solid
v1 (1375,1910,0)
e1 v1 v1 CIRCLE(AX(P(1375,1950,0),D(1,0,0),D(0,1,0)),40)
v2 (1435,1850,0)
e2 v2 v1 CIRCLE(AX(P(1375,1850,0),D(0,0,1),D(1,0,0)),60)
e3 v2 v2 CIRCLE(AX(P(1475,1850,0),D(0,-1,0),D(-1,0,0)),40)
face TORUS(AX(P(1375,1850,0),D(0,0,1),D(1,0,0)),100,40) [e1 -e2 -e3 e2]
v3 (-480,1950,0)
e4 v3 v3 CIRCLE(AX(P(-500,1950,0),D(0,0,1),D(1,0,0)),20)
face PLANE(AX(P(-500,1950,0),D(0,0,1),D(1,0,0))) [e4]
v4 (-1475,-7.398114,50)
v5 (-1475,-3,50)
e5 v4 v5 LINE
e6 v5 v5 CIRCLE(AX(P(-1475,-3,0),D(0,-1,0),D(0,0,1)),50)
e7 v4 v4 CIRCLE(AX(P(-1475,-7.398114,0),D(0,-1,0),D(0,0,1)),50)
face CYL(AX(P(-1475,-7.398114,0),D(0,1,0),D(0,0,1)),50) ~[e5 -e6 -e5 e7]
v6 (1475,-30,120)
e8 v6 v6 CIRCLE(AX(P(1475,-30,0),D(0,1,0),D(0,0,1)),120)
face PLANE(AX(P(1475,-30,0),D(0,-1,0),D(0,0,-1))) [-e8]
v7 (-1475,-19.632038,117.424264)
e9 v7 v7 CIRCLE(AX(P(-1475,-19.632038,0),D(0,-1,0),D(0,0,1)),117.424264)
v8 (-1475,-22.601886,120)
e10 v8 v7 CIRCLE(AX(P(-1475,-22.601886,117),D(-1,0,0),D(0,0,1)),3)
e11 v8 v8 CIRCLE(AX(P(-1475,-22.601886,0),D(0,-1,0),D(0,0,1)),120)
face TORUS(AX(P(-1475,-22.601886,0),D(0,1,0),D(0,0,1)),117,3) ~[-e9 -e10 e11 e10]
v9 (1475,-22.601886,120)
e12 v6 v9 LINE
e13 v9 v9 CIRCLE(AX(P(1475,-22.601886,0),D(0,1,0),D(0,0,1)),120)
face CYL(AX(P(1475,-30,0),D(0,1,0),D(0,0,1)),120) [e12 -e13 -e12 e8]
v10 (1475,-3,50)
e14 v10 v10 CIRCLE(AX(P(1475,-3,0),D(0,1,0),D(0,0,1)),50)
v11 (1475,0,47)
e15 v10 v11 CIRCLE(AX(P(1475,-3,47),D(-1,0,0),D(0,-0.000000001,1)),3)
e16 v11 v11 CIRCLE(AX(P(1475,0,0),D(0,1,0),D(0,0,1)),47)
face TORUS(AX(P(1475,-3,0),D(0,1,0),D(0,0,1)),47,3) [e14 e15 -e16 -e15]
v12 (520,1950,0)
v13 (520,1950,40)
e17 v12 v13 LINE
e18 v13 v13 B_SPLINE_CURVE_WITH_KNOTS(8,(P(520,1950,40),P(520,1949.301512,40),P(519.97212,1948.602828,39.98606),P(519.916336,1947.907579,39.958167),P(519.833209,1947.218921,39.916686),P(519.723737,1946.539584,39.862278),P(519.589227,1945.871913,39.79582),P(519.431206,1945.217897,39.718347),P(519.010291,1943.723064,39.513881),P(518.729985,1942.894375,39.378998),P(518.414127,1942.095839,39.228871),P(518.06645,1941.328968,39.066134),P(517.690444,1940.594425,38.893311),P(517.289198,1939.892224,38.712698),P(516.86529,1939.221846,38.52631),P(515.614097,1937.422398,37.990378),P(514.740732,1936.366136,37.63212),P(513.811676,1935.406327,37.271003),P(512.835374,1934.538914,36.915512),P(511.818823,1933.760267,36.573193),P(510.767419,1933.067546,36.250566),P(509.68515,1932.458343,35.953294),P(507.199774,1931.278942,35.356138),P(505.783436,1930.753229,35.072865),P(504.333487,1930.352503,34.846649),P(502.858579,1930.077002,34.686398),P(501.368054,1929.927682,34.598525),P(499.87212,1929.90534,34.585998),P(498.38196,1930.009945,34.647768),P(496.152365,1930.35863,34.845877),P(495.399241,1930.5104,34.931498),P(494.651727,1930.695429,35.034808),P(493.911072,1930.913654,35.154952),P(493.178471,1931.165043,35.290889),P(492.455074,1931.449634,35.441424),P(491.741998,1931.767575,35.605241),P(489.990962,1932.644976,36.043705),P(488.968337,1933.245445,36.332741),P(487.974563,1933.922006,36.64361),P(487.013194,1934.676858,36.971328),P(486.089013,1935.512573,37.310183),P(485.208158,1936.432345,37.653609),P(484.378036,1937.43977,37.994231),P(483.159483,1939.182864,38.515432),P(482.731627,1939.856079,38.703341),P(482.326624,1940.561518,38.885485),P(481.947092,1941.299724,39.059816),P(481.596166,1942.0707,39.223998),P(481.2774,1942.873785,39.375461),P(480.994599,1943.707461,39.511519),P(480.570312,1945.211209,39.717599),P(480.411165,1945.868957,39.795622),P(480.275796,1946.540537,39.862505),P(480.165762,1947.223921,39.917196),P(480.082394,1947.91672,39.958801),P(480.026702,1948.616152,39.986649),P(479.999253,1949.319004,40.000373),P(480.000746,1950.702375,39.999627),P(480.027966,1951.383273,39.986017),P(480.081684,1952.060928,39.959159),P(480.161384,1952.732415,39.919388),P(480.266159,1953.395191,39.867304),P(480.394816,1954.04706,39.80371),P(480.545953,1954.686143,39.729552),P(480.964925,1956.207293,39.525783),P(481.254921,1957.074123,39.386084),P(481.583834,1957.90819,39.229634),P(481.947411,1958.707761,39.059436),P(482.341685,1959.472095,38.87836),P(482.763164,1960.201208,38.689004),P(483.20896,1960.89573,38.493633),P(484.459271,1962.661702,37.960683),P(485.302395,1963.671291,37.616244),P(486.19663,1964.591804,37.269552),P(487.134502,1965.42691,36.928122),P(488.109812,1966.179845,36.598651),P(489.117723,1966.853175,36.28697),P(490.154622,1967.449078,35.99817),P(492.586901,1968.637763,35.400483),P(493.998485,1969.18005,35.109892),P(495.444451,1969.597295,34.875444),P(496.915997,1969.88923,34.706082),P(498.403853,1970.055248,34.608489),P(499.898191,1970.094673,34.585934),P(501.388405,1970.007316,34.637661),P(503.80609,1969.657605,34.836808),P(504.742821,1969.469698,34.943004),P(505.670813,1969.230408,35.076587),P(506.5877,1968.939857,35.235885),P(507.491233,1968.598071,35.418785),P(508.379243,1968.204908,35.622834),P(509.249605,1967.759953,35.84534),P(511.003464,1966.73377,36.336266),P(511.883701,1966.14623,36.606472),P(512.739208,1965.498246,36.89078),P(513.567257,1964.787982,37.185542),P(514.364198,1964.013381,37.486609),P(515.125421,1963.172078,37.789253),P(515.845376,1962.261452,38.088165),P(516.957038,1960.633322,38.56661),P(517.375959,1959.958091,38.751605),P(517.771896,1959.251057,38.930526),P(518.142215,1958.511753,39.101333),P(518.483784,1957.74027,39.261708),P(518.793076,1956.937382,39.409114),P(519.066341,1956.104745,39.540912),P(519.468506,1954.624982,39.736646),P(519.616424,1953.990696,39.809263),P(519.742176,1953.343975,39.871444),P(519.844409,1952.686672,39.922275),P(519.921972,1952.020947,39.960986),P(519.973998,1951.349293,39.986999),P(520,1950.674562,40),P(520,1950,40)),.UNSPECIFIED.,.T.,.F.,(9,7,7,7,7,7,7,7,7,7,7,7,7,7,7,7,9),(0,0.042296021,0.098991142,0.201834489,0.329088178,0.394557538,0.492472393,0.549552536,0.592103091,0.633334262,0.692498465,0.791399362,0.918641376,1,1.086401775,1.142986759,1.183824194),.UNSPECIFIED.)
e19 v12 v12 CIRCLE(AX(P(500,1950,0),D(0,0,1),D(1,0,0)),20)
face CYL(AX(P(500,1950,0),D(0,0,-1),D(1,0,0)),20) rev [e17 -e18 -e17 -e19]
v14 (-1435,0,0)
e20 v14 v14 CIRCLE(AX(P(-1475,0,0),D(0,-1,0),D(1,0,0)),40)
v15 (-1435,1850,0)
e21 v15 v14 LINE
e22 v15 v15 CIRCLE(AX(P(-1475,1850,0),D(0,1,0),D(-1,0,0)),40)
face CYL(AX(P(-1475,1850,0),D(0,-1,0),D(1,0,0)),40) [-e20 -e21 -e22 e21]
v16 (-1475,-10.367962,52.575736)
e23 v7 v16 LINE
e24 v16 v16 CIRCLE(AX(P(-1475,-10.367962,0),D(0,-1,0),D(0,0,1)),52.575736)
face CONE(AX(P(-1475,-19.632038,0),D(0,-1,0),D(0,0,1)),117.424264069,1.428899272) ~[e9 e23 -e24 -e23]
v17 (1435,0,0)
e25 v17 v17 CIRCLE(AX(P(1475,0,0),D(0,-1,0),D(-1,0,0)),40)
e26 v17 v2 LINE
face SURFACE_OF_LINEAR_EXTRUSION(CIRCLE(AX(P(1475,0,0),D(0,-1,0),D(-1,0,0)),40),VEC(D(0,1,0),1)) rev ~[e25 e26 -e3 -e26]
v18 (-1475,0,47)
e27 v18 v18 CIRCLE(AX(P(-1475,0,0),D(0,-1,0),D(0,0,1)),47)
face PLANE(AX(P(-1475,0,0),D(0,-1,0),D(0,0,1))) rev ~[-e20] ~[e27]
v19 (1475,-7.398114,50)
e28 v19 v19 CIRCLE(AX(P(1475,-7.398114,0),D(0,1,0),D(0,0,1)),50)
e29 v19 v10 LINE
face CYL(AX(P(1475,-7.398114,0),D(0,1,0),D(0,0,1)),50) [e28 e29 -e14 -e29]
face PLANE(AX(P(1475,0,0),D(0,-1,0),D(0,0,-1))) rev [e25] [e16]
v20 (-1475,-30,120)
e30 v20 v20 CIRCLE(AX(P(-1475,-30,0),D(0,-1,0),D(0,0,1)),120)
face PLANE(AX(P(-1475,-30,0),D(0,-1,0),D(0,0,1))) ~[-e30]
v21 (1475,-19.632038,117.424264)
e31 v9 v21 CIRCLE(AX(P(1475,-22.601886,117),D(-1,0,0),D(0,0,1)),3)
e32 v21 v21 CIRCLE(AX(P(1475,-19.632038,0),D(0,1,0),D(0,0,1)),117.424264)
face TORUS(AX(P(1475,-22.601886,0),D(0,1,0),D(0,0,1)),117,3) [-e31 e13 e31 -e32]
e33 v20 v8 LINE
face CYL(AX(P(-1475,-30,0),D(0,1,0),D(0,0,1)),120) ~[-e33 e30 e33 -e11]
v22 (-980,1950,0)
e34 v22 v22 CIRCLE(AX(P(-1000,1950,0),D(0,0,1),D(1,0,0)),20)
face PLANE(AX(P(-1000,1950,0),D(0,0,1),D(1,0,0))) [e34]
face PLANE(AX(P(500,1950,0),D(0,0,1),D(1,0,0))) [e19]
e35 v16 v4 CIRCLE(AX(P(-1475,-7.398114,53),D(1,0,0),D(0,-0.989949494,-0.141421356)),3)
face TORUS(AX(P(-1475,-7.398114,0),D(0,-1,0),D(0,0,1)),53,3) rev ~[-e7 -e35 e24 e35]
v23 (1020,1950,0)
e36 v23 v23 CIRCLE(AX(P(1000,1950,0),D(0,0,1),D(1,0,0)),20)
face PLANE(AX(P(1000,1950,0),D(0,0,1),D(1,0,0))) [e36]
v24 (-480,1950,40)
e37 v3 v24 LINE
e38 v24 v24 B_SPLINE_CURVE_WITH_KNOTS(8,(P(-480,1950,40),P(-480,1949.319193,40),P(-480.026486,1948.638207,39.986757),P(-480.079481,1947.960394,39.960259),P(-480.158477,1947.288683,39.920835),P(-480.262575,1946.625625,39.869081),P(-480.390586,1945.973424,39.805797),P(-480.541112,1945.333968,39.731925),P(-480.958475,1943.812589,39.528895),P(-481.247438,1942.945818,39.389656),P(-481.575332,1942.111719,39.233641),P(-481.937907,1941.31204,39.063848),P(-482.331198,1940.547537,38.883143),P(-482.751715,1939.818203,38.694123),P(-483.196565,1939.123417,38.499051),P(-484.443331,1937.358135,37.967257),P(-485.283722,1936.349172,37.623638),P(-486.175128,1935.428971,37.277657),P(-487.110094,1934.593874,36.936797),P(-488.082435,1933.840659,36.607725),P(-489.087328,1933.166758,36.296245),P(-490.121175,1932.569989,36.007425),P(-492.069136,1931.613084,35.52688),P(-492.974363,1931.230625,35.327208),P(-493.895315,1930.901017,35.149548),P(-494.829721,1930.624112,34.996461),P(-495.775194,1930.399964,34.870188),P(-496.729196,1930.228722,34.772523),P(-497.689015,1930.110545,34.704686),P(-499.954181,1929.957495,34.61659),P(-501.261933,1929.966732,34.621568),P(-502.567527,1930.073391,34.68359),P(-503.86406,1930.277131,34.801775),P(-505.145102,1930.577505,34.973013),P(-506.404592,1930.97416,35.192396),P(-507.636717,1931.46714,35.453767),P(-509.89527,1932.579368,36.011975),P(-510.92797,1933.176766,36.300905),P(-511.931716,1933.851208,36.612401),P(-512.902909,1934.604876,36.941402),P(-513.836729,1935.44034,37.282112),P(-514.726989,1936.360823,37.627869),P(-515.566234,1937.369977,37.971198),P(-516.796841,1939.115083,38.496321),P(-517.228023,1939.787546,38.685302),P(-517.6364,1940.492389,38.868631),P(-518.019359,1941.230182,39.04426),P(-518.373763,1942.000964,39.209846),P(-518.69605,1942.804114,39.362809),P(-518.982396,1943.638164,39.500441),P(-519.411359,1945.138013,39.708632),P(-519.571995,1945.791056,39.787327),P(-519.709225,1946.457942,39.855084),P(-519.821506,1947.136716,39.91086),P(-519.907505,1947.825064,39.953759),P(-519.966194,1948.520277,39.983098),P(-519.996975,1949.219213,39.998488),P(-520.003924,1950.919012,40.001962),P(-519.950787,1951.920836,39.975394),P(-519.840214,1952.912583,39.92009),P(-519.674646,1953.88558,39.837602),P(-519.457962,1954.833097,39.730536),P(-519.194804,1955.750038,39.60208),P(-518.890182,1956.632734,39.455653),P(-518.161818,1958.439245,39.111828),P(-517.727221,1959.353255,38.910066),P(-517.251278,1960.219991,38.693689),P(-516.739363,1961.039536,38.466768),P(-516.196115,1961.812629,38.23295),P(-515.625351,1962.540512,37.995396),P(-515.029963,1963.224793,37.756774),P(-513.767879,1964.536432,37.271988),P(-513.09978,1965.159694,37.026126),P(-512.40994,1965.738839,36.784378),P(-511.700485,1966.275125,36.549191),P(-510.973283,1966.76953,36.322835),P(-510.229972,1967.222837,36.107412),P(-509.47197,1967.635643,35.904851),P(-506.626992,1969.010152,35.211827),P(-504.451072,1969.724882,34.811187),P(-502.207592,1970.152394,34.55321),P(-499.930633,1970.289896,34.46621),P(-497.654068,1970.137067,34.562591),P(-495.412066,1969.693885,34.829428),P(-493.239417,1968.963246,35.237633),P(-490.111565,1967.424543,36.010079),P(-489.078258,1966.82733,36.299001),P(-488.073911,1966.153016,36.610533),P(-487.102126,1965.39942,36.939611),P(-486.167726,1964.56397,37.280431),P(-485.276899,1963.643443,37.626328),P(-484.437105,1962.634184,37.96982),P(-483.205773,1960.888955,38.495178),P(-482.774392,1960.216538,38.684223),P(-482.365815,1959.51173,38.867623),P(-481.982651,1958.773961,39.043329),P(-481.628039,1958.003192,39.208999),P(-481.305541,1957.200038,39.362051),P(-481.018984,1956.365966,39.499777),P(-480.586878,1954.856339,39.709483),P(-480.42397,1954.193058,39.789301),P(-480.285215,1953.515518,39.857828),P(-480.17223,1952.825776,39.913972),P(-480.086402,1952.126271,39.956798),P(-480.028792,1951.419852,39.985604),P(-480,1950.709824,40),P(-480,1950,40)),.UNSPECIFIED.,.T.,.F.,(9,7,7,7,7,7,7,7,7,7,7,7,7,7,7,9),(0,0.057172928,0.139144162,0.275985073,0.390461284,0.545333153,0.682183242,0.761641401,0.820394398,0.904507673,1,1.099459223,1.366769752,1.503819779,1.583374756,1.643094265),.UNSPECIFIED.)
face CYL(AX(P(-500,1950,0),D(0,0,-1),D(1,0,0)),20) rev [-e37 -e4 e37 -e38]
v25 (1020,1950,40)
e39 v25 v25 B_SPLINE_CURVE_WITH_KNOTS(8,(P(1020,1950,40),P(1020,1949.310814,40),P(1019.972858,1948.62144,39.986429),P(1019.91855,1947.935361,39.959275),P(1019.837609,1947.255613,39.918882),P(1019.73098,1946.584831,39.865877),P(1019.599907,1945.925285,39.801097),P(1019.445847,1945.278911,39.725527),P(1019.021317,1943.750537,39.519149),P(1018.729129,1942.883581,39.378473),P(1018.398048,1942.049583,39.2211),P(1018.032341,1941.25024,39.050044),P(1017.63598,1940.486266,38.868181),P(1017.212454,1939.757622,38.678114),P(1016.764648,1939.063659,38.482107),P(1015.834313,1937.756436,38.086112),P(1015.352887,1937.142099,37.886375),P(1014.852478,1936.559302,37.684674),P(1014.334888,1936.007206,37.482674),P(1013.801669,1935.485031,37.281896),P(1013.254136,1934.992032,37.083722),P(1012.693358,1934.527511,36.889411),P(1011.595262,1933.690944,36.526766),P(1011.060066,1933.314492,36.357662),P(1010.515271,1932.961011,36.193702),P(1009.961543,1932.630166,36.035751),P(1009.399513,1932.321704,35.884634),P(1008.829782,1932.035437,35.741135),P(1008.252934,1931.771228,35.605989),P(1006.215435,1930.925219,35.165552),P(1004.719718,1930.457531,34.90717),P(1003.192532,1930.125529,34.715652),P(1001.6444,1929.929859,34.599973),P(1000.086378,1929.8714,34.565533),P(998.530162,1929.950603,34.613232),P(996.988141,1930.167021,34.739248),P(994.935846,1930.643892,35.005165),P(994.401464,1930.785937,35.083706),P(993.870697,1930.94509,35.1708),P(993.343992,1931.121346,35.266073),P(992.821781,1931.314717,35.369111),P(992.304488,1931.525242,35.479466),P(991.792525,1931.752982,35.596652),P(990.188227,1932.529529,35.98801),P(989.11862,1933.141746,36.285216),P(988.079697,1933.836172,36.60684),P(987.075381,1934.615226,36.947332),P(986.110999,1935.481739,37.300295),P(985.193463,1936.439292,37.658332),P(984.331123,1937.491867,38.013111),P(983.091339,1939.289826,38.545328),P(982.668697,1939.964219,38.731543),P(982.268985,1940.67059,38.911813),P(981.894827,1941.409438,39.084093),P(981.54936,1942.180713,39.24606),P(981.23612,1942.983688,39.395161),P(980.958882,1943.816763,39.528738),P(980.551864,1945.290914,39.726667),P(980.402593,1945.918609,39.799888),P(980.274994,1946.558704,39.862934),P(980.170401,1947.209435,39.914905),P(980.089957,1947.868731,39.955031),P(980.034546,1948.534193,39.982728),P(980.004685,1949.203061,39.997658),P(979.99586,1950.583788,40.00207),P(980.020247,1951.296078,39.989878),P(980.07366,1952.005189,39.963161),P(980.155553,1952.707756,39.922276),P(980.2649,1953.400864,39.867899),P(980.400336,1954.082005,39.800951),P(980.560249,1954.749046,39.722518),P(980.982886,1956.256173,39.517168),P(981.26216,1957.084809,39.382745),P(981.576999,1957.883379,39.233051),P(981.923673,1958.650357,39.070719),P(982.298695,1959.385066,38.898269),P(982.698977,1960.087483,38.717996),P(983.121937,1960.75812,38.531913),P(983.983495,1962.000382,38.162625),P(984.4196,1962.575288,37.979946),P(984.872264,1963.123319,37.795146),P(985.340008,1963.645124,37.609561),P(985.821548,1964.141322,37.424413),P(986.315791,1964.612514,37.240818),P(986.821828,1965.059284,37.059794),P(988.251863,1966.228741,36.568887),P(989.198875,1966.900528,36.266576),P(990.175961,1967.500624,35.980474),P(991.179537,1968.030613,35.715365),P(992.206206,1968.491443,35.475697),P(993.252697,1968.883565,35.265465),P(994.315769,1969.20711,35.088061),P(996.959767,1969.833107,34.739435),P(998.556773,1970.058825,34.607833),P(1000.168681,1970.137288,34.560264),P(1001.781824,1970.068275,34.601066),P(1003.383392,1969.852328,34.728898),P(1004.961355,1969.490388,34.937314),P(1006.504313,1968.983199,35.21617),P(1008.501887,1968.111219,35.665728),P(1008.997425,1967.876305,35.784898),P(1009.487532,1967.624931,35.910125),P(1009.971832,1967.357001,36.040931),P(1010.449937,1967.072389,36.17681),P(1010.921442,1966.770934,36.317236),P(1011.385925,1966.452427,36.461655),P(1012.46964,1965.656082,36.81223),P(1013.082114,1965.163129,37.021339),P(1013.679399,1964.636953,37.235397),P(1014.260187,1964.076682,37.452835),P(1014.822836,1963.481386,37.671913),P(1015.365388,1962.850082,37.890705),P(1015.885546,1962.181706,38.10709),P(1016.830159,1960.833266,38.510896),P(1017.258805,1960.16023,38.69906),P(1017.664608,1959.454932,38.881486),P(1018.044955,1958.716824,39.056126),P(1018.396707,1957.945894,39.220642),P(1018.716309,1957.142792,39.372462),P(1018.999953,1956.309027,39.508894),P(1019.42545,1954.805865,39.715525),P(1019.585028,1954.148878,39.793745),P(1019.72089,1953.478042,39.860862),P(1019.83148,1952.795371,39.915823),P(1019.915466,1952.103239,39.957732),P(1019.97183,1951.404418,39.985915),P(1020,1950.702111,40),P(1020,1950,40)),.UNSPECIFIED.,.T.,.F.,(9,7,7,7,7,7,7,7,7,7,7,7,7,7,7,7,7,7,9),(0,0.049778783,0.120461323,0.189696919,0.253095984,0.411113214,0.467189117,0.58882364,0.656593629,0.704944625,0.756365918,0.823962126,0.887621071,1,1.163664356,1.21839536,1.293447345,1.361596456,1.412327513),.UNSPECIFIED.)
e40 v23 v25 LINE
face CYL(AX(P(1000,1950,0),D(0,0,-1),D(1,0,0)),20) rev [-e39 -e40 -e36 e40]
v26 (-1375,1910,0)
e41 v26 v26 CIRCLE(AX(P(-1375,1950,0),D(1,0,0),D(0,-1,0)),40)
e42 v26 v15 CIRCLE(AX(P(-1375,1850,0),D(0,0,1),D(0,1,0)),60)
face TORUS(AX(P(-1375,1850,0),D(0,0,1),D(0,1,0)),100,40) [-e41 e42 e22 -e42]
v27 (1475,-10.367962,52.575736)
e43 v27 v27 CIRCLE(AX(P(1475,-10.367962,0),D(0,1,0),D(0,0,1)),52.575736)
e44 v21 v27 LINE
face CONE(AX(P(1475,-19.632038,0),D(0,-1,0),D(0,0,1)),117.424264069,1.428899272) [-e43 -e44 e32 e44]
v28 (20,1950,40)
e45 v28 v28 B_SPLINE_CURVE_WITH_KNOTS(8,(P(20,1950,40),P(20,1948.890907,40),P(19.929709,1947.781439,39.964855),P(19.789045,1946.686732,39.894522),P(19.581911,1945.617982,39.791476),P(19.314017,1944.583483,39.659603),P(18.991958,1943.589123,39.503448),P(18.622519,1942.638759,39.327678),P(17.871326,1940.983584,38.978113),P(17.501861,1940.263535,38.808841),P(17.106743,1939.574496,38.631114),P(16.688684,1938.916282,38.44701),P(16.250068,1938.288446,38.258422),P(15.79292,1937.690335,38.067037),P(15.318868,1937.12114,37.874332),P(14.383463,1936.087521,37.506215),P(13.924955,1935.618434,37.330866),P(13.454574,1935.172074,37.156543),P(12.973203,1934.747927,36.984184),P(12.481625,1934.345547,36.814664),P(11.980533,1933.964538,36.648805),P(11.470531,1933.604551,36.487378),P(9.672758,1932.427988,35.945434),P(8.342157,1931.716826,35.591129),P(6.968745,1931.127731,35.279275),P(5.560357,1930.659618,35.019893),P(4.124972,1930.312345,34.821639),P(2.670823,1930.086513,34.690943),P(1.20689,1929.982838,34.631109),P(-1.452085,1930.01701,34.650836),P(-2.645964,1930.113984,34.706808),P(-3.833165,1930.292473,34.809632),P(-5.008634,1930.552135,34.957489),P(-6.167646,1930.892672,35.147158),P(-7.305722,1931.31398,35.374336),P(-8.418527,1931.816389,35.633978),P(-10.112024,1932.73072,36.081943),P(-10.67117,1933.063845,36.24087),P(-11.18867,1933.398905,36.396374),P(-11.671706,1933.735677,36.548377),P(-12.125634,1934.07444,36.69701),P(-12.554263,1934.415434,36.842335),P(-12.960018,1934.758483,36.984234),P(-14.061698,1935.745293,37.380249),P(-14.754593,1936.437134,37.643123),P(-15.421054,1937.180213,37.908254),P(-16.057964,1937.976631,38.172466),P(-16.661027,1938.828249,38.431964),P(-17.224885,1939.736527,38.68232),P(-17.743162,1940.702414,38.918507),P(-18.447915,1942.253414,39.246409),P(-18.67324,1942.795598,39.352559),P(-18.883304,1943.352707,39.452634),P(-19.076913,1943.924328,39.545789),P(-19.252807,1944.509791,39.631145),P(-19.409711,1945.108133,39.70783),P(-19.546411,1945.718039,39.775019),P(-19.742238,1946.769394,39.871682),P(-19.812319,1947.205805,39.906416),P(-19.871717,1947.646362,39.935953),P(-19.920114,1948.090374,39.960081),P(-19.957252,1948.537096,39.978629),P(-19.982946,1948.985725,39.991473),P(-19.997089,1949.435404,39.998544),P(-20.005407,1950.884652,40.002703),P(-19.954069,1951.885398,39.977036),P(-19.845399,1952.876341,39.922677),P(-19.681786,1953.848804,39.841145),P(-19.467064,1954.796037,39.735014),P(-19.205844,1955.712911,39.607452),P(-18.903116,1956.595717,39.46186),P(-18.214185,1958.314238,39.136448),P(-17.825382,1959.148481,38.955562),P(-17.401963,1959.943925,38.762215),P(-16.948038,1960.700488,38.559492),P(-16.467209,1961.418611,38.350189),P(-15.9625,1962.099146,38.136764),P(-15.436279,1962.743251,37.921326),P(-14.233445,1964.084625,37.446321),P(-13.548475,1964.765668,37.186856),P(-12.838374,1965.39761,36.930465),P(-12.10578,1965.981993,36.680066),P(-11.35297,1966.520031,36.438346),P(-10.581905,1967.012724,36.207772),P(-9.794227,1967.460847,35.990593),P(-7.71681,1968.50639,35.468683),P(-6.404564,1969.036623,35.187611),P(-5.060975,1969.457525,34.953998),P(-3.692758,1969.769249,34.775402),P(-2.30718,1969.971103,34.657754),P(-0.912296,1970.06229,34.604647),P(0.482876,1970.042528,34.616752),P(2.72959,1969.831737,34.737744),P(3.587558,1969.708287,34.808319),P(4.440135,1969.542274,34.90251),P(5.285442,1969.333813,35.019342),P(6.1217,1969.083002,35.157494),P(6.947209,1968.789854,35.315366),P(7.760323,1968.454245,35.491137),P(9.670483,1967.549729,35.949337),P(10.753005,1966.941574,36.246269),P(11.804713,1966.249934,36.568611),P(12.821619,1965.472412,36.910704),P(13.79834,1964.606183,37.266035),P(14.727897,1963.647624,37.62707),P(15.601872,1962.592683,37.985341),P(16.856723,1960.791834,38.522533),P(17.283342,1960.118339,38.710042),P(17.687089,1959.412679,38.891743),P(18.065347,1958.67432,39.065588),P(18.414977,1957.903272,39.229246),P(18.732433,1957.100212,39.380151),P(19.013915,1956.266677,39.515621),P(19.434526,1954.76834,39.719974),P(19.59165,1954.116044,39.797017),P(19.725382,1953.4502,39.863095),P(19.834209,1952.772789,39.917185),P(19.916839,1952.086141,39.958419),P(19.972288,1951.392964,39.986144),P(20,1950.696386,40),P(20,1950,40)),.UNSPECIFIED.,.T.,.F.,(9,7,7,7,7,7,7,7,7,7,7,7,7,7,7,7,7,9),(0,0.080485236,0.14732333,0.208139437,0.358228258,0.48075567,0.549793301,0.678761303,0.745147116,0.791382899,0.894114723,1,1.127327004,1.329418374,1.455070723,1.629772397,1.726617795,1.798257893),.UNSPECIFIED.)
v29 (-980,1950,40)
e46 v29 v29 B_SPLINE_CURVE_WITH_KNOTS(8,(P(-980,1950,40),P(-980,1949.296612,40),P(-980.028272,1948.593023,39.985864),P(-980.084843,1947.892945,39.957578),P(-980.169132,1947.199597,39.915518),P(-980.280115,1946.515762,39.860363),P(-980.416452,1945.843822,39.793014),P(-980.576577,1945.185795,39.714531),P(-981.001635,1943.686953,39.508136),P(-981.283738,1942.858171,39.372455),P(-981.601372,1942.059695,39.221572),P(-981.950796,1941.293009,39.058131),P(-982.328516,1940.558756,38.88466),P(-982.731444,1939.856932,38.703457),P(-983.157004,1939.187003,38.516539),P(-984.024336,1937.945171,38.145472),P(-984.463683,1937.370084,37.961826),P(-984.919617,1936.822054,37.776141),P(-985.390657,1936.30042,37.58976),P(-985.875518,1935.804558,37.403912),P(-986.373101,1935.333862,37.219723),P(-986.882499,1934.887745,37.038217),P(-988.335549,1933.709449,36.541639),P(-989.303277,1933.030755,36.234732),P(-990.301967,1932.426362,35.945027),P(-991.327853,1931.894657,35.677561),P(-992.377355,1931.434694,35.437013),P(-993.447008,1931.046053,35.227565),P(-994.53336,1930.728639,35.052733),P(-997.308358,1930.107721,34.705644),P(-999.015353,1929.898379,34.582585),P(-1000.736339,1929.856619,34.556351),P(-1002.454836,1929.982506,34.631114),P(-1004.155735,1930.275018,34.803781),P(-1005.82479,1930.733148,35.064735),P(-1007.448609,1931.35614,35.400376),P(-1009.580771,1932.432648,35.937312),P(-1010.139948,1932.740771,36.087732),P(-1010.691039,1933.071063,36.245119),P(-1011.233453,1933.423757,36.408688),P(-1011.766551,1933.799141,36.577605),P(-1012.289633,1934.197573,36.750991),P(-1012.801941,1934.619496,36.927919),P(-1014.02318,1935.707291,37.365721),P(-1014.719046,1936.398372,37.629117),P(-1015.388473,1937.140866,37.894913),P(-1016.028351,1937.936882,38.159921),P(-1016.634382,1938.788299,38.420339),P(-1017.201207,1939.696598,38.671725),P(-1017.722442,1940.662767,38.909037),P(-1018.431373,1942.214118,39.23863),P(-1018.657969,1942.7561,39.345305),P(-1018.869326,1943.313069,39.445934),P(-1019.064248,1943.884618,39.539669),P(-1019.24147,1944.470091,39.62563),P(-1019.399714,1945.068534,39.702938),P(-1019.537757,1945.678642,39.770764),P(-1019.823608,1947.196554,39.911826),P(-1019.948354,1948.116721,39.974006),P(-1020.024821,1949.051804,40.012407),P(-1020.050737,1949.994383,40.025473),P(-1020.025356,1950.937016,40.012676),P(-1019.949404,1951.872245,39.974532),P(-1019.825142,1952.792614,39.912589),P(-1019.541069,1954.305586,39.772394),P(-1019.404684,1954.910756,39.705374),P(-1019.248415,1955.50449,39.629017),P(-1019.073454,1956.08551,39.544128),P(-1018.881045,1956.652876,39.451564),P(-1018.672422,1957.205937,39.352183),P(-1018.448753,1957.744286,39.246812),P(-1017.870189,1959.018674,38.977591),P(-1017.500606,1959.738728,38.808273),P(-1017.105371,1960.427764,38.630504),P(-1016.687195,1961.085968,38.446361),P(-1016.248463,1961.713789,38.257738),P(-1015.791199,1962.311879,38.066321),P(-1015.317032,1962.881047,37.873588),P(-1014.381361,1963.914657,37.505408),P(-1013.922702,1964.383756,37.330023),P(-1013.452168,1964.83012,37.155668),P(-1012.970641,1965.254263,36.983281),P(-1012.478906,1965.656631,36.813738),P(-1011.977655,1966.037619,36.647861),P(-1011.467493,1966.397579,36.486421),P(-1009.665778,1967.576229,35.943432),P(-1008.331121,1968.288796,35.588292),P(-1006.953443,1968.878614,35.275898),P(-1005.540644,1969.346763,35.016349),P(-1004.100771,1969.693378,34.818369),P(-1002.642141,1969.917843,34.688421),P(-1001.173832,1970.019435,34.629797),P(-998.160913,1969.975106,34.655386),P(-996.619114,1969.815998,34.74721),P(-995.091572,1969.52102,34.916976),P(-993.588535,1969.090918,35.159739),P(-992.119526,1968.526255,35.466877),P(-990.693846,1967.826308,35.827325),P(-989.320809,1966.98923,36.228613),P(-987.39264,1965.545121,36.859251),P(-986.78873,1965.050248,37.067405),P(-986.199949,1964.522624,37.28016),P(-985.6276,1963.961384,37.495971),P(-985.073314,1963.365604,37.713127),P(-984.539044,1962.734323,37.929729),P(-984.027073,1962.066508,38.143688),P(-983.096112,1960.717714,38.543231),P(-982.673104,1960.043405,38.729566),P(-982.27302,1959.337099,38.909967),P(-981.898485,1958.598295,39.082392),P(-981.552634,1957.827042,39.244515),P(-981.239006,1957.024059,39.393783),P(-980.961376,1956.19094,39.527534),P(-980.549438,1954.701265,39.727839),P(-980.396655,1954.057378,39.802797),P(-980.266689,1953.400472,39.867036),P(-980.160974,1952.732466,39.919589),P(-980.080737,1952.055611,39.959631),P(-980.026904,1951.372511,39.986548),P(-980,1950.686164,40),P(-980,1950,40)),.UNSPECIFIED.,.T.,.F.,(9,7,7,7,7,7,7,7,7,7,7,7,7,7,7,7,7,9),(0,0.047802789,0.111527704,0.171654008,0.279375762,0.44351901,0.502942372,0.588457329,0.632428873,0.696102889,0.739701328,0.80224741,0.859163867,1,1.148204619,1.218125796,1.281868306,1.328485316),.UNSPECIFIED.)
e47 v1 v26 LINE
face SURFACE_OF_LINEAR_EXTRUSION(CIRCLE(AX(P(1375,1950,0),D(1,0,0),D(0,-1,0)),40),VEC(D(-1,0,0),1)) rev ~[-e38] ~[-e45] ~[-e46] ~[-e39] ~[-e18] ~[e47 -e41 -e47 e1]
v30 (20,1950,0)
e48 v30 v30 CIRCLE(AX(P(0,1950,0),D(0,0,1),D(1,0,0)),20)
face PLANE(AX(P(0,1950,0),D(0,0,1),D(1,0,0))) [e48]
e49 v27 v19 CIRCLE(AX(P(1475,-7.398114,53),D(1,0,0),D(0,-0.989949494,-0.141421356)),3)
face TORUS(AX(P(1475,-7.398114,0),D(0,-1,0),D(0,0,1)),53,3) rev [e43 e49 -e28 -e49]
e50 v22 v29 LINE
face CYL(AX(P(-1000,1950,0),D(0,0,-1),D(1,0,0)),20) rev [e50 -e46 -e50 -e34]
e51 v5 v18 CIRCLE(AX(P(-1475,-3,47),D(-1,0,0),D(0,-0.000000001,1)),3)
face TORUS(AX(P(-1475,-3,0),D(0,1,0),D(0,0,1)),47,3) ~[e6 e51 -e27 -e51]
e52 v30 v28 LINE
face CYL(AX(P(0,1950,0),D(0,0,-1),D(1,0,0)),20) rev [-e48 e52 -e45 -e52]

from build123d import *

# Parameters (mm, degrees)
SKETCH3_R          = 40
SKETCH8_R          = 20
CUT_EXTRUDE3_DEPTH = 100
LPATTERN1_COUNT    = 5
LPATTERN1_PITCH    = 500


with BuildPart() as part:
    # Sweep1: sweep along a path in Sketch1
    with BuildLine(Plane.XY) as sweep1_path:
        Line((1475, 0), (1475, 1850))
        ThreePointArc((1475, 1850), (1445.710678119, 1920.710678119), (1375, 1950))
        Line((1375, 1950), (-1375, 1950))
        ThreePointArc((-1375, 1950), (-1445.710678119, 1920.710678119), (-1475, 1850))
        Line((-1475, 1850), (-1475, 0))
    # Sketch3 → Sweep1 (sweep)
    with BuildSketch(Plane(origin=(0, 0, 0), x_dir=(1, 0, 0), z_dir=(0, 1, 0))):
        with Locations((-1475, 0)):
            Circle(SKETCH3_R)
    sweep(path=sweep1_path.line)

    # Sketch4 → Revolve1 (revolve)
    with BuildSketch(Plane.XY, mode=Mode.PRIVATE) as revolve1_sk:
        with BuildLine():
            Line((-1475, 0), (-1475, -30))
            Line((-1475, -30), (-1595, -30))
            Line((-1595, -30), (-1595, -22.601886205))
            ThreePointArc((-1595, -22.601886205), (-1594.266361865, -20.636280981), (-1592.424264069, -19.632037724))
            Line((-1592.424264069, -19.632037724), (-1527.575735931, -10.367962276))
            ThreePointArc((-1527.575735931, -10.367962276), (-1525.733638135, -9.363719019), (-1525, -7.398113795))
            Line((-1525, -7.398113795), (-1525, -3))
            ThreePointArc((-1525, -3), (-1524.121320344, -0.878679656), (-1522, 0))
            Line((-1522, 0), (-1475, 0))
        make_face()
    revolve1 = revolve(revolve1_sk.sketch.rotate(Axis((-1475, 0, 0), (0, -1, 0)), 270), axis=Axis((-1475, 0, 0), (0, -1, 0)))

    # Mirror1: Revolve1 across plane
    add(revolve1.mirror(Plane(origin=(0, 0, 0), x_dir=(0, 0, 1), z_dir=(1, 0, 0))))

    # Sketch8 → Cut-Extrude3 (cut)
    with BuildSketch(Plane.XY):
        with Locations((-1000, 1950)):
            Circle(SKETCH8_R)
    cut_extrude3 = extrude(amount=CUT_EXTRUDE3_DEPTH, mode=Mode.SUBTRACT)

    # LPattern1: Cut-Extrude3 ×5
    with Locations(*[(i * LPATTERN1_PITCH, 0, 0) for i in range(1, LPATTERN1_COUNT)]):
        add(cut_extrude3, mode=Mode.SUBTRACT)


solid = part.part
